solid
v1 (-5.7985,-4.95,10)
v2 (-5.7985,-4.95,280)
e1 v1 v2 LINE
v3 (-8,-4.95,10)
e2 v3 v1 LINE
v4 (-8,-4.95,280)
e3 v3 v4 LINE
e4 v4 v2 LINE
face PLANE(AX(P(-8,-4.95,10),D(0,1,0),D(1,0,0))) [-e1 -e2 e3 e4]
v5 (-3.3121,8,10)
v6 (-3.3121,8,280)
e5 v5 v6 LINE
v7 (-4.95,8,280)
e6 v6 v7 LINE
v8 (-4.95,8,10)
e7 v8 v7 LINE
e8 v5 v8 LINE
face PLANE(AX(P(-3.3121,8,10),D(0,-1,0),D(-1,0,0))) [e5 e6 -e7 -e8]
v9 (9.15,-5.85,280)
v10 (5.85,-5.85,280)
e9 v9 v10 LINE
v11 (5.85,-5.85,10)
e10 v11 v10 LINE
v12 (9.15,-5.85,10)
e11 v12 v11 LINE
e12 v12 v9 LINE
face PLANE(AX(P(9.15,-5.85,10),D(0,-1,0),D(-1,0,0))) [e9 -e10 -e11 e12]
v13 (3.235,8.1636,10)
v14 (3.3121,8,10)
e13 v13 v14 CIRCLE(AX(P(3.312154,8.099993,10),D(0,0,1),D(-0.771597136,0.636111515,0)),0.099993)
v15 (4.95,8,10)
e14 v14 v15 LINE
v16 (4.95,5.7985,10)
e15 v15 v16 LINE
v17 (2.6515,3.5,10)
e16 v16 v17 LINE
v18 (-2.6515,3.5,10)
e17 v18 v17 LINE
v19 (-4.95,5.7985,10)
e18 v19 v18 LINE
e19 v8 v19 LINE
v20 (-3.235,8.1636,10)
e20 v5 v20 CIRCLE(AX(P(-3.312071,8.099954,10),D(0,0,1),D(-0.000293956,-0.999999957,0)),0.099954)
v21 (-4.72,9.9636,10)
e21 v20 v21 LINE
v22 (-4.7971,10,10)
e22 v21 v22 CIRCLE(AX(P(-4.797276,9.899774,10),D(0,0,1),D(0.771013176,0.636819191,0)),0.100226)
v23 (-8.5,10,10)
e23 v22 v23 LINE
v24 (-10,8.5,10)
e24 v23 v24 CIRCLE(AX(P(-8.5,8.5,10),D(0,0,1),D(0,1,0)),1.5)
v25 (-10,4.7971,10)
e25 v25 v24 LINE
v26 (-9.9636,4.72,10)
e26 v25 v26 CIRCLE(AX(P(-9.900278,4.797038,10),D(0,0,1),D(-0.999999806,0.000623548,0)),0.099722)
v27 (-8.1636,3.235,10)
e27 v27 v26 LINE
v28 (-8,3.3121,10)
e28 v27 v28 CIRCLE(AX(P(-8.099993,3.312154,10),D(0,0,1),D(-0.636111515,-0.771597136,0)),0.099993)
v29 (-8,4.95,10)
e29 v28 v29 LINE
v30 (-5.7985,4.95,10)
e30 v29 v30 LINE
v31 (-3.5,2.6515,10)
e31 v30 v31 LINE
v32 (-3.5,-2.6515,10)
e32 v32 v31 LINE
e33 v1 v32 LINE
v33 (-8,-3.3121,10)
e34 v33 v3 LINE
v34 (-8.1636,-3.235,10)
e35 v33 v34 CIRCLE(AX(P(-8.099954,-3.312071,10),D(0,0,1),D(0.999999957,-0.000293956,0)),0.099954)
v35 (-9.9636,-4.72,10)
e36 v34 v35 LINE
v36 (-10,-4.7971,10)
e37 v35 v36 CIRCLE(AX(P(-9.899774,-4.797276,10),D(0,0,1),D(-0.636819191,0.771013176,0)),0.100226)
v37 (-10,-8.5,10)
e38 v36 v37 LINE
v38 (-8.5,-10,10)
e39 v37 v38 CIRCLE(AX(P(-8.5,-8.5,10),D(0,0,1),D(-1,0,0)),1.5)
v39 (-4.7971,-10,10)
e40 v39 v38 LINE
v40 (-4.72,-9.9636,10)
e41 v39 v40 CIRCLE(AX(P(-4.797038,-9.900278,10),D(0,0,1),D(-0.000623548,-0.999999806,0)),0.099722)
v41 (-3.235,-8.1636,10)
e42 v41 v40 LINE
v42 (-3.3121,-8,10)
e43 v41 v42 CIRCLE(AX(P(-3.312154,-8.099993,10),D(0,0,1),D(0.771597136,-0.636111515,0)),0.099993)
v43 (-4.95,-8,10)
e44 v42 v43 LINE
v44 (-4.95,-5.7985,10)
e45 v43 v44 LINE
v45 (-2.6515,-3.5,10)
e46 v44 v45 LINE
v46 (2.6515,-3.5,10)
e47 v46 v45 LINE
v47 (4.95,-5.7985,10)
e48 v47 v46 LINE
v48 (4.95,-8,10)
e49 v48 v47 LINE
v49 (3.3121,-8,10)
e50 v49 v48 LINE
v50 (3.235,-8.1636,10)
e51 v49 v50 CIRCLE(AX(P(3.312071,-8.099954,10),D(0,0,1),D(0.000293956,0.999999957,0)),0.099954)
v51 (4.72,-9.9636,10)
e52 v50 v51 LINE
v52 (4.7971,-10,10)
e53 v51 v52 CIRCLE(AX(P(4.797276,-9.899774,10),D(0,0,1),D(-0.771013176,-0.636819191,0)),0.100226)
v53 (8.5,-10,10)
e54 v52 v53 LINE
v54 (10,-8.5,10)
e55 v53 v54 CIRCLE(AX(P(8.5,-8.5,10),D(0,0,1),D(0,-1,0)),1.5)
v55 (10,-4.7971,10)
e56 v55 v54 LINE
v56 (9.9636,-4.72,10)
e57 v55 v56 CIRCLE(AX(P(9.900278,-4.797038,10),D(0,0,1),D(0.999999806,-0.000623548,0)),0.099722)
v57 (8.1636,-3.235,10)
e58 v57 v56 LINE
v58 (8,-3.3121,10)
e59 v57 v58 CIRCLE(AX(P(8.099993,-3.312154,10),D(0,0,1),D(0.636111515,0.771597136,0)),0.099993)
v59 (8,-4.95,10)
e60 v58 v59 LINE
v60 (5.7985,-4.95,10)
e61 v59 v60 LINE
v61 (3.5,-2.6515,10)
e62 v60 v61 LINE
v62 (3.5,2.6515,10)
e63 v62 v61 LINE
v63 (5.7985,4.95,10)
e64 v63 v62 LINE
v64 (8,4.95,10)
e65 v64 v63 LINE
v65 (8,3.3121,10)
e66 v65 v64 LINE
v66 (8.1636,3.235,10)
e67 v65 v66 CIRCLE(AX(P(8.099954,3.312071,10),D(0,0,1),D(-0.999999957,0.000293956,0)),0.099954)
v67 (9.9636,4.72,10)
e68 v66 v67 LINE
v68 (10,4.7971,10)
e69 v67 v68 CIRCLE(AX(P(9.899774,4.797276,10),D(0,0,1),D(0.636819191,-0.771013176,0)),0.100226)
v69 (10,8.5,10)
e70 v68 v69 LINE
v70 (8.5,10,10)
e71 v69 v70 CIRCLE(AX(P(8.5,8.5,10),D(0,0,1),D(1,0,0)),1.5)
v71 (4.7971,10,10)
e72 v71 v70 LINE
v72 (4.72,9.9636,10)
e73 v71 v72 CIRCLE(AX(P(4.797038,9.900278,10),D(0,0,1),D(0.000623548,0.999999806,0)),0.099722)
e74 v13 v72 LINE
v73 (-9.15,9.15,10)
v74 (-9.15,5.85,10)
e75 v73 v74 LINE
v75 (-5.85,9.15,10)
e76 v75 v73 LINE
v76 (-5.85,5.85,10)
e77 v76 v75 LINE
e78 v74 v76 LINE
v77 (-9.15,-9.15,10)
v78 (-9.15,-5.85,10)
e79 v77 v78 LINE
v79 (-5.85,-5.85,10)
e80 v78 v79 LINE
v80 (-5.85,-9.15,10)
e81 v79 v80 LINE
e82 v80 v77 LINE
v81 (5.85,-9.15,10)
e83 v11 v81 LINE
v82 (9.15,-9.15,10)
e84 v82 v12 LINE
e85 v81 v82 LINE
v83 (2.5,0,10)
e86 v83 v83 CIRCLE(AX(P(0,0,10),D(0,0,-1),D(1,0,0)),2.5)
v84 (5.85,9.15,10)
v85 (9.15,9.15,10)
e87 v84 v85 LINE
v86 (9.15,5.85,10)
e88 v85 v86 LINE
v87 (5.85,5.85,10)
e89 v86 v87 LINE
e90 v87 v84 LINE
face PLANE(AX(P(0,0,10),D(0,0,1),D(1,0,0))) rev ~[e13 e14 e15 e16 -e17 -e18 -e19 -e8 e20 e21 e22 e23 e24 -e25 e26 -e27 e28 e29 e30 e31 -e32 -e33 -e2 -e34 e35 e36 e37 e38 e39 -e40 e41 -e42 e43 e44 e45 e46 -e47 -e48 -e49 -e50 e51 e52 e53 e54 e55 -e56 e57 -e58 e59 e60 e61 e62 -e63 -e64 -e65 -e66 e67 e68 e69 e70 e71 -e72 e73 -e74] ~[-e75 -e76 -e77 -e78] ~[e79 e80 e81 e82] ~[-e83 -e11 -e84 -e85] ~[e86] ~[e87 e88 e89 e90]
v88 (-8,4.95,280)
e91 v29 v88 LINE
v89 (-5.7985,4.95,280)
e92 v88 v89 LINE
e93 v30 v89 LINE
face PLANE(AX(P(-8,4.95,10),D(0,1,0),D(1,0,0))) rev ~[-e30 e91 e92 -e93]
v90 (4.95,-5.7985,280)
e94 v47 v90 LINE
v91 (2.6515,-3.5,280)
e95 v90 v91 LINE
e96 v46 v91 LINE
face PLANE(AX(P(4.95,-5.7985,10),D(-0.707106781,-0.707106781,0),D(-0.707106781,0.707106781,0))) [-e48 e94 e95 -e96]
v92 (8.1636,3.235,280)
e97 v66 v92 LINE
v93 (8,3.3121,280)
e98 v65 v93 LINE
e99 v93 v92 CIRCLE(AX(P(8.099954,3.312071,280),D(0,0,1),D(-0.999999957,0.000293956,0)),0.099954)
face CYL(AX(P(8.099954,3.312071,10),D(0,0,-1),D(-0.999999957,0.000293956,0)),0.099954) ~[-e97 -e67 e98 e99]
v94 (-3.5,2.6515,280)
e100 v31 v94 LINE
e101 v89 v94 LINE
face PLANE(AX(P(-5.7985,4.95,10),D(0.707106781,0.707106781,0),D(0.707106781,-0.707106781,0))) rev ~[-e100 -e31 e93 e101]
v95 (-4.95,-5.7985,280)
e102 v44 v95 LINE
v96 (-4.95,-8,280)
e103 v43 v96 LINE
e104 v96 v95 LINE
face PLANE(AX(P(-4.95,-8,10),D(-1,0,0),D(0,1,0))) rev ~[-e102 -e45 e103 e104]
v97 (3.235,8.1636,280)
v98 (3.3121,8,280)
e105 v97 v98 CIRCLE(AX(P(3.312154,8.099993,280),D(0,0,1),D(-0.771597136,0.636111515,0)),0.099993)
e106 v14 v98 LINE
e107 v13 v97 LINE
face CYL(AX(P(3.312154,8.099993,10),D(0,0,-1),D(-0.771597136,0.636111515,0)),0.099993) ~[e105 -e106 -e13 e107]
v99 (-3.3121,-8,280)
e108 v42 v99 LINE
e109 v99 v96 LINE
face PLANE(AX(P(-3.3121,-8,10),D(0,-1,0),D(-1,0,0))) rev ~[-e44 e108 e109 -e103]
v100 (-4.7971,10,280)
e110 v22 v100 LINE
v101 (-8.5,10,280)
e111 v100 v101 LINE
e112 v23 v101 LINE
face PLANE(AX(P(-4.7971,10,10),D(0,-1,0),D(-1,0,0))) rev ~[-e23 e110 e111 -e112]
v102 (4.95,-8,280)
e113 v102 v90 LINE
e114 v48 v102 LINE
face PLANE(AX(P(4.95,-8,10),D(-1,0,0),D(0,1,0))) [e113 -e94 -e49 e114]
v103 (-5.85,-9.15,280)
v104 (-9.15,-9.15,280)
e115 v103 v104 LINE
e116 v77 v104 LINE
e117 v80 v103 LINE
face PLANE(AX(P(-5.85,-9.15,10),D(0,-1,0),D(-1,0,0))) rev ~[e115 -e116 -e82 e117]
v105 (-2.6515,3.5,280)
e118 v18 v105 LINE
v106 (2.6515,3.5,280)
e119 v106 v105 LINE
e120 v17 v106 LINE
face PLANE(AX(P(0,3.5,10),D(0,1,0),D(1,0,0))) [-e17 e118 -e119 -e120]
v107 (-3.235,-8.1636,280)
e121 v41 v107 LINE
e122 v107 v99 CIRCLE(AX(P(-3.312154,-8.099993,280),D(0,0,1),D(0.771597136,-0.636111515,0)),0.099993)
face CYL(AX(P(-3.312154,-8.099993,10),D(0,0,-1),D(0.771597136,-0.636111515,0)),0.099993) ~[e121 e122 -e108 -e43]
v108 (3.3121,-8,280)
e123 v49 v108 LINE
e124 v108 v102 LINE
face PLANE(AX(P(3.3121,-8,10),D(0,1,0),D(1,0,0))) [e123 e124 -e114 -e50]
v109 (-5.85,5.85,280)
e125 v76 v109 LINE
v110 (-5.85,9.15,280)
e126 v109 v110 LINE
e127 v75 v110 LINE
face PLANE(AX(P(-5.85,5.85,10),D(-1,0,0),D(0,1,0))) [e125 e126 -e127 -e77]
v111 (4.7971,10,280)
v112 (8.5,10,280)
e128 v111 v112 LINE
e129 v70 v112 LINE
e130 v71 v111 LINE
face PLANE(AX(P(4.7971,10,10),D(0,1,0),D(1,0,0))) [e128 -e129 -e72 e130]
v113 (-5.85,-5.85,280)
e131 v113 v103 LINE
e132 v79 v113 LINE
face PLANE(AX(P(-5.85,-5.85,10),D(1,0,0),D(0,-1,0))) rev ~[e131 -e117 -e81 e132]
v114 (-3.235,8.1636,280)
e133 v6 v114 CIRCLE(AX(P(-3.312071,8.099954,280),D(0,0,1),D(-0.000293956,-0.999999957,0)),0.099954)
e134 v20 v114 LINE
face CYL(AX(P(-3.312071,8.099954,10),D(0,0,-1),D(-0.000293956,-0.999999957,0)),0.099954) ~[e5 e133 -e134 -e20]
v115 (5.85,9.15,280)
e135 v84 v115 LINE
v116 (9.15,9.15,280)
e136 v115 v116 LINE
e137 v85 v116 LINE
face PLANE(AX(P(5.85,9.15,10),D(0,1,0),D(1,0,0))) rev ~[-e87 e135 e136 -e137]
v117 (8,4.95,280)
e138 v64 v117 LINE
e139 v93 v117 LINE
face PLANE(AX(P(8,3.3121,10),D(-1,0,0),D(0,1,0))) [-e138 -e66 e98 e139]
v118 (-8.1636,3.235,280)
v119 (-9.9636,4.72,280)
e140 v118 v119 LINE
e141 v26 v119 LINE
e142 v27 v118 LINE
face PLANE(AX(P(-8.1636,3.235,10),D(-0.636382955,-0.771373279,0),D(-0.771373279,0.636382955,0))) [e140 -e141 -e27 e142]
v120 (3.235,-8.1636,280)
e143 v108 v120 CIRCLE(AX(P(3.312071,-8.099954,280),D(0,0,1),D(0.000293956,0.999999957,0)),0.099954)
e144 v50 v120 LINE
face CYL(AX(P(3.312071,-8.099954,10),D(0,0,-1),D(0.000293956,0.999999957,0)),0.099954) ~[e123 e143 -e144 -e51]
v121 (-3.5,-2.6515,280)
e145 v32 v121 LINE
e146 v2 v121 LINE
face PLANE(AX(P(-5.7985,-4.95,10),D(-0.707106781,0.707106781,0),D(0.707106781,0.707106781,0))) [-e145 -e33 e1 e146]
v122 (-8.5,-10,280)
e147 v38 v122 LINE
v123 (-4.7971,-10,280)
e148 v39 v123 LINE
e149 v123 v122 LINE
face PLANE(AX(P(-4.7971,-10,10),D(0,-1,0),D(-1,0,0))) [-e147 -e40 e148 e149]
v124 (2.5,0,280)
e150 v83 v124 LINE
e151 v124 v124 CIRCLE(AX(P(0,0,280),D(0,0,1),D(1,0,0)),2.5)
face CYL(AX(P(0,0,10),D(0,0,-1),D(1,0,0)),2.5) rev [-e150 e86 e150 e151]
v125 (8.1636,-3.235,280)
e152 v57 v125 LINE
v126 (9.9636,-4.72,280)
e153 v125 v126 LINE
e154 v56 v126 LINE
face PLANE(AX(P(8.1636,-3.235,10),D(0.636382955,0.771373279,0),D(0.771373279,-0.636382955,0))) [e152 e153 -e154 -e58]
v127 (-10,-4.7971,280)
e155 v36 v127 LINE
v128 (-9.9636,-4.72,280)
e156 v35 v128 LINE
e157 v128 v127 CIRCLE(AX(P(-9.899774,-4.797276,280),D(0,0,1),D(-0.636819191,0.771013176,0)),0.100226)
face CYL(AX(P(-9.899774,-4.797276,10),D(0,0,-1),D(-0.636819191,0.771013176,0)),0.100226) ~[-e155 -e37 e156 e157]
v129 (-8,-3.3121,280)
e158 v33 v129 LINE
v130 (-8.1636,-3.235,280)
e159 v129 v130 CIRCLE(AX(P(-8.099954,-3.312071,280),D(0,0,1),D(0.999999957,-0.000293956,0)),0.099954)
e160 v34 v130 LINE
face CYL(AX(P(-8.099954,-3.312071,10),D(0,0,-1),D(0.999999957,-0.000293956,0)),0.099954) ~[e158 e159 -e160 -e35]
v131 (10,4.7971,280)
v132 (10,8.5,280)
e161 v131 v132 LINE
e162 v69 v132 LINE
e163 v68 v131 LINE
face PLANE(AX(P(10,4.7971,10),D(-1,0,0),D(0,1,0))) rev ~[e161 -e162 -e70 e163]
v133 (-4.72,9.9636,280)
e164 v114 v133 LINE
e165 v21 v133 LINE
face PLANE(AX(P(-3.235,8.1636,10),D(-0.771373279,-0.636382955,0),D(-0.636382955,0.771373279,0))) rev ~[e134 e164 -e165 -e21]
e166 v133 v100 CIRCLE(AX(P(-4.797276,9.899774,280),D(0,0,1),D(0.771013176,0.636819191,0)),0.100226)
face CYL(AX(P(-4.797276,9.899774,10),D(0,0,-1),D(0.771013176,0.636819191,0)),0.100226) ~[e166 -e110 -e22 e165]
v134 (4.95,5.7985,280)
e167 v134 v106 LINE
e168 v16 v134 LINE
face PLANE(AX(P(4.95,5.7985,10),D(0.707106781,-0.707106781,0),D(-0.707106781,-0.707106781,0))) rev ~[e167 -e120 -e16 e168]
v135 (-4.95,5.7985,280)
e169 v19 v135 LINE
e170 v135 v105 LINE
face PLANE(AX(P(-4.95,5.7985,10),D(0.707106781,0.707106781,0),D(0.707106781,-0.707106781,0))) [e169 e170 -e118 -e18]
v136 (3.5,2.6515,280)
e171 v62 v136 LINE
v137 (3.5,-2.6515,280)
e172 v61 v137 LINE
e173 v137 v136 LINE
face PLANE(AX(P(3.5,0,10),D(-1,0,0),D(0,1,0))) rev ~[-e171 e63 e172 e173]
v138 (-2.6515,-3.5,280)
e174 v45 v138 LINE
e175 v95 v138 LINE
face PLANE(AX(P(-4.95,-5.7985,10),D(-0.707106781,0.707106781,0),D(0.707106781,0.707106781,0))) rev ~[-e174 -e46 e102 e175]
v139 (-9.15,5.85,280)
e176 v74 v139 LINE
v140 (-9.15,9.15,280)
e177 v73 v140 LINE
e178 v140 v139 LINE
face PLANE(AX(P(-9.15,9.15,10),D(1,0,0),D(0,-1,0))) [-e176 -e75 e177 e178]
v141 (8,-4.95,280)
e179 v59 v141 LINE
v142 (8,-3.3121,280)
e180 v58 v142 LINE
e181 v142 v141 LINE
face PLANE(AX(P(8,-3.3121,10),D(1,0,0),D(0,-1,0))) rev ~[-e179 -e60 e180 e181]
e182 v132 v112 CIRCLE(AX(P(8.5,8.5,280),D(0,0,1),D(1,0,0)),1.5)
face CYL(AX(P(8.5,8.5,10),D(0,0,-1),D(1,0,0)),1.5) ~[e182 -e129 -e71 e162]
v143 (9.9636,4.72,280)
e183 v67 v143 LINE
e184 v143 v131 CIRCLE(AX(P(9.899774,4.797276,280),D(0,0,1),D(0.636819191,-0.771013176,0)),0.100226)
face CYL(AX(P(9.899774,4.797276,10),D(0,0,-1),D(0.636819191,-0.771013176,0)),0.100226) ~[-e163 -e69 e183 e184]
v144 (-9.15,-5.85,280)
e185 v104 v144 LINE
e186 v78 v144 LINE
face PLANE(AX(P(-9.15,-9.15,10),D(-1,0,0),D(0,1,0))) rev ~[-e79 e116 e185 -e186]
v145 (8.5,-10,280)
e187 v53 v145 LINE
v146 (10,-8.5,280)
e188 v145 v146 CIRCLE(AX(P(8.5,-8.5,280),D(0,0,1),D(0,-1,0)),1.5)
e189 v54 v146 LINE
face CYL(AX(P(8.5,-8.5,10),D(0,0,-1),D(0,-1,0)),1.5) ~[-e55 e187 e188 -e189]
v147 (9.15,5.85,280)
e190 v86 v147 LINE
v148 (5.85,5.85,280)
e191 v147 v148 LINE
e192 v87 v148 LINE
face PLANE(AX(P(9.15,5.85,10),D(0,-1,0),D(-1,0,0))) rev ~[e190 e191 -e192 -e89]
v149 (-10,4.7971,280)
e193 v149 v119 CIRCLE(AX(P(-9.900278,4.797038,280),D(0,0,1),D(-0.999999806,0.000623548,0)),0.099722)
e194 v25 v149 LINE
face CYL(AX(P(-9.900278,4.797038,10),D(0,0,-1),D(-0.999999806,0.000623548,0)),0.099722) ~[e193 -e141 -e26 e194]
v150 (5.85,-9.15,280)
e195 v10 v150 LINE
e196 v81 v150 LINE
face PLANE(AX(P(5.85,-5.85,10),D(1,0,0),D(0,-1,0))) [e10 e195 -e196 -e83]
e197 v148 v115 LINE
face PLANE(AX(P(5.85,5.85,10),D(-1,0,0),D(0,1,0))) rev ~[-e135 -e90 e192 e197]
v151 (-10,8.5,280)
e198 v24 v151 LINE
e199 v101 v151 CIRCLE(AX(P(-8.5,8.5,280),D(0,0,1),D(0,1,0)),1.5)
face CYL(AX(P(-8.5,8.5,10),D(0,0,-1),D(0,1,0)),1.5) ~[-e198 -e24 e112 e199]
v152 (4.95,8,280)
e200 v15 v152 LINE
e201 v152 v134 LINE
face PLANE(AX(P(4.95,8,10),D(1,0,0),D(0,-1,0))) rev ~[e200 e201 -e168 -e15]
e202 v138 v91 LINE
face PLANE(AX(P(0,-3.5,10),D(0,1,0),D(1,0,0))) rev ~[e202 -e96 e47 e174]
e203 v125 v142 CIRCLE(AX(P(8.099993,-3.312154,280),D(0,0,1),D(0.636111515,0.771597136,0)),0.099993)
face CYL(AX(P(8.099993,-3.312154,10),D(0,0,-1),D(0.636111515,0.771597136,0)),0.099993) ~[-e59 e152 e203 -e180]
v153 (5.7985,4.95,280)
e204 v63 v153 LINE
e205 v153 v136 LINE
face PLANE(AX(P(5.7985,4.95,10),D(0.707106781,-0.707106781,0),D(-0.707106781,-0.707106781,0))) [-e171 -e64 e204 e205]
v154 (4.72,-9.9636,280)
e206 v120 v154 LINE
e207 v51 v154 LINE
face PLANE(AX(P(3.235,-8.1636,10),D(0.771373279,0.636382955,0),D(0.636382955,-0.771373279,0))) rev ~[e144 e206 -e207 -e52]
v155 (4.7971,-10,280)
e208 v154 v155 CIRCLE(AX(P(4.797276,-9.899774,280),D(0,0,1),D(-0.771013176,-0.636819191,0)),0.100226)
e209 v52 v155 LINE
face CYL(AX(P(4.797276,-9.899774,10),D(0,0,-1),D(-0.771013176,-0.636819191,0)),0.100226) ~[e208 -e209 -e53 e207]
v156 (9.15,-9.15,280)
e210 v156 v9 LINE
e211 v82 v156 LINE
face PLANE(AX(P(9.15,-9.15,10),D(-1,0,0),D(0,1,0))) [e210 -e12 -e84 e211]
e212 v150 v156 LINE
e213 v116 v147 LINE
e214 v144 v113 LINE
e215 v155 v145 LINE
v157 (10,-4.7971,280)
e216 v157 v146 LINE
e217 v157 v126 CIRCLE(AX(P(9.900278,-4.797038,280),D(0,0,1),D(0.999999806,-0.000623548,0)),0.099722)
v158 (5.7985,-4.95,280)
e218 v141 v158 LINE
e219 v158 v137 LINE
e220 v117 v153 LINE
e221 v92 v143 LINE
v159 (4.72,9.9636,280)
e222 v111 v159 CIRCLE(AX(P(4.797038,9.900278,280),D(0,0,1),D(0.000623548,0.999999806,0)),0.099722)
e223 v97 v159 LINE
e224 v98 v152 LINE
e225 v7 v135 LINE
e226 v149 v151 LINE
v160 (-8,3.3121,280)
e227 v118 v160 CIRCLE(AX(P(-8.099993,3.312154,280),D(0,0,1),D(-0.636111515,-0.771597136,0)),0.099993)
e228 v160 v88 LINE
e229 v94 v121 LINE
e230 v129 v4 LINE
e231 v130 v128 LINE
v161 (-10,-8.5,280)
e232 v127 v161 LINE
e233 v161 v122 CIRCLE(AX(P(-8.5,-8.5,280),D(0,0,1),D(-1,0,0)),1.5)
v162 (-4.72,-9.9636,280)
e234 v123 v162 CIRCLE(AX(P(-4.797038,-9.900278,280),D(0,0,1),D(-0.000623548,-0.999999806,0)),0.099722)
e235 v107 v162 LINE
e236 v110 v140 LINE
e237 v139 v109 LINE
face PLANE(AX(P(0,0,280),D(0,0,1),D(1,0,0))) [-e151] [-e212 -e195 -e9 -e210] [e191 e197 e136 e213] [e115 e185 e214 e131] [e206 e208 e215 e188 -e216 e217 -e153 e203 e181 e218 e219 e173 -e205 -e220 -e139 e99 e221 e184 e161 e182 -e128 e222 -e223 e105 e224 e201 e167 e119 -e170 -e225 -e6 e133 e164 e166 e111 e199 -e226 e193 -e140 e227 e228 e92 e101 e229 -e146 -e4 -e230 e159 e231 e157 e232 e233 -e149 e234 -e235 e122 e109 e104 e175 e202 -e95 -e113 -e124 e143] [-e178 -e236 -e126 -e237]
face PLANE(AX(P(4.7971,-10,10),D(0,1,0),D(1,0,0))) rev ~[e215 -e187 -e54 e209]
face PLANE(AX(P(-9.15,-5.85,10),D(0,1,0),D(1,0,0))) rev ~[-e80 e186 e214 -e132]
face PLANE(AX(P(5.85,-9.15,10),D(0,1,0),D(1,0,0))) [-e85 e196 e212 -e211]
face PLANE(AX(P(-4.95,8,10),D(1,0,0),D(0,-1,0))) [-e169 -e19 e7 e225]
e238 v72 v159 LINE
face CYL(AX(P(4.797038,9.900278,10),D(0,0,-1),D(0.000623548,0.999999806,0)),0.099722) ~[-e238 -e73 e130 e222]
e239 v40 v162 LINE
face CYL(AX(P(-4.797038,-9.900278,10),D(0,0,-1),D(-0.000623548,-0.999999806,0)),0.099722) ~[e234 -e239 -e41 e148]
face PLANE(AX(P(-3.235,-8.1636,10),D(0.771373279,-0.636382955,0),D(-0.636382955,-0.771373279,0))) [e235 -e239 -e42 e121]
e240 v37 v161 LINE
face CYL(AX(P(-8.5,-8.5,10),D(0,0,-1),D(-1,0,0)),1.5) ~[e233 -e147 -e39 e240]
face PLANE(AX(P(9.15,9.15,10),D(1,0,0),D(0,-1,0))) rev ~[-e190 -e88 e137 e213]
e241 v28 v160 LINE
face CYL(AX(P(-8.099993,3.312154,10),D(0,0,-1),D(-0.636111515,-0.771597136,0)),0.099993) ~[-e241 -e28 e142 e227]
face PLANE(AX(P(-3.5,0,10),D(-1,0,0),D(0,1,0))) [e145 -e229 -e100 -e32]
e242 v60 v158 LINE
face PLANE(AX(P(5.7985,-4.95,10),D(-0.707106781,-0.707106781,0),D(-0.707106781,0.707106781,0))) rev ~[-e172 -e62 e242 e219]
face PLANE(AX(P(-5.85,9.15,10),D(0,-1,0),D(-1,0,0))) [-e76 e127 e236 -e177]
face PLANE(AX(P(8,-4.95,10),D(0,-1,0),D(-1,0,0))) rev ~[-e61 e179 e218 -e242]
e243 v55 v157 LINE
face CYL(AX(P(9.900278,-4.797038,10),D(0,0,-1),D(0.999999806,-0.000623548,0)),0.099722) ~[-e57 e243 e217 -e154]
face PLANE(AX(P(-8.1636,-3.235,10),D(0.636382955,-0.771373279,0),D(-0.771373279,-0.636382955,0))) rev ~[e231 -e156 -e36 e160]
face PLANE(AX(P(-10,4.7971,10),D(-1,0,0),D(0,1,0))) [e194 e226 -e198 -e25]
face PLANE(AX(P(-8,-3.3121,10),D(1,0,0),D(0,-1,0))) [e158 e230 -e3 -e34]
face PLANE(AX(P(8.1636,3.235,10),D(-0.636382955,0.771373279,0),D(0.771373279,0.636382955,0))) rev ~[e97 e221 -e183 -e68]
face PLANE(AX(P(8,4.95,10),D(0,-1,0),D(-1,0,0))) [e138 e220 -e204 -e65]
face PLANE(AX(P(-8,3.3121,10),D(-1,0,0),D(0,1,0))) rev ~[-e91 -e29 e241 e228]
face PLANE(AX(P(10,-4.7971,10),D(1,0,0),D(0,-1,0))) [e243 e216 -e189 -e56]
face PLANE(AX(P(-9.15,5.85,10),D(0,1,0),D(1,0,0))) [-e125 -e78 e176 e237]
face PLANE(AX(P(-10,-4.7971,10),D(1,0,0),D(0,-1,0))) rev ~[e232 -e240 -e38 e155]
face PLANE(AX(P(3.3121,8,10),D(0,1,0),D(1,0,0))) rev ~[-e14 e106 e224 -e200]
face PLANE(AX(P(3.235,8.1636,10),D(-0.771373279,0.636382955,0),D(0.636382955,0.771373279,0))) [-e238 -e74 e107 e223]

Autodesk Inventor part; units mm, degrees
ref_plane "Начальная плоскость" through (0, 0, 10) normal (0, 0, 1) x (1, 0, 0)
ref_plane "Конечная плоскость" through (0, 0, 280) normal (0, 0, 1) x (1, 0, 0)
sketch "Эскиз" plane through (0, 0, 0) normal (0, 0, 1) x (1, 0, 0)
  line L0 (-14.4349, 0) -> (14.4349, 0) projected
  line L1 (0, -14) -> (0, 14) projected
  line L2 (0, 0) -> (7.5, 7.5) construction
  circle A0 centre (7.5, 7.5) radius 1.65 construction
  line L3 (5.85, 9.15) -> (9.15, 9.15)
  line L4 (9.15, 9.15) -> (9.15, 5.85)
  line L5 (9.15, 5.85) -> (5.85, 5.85)
  line L6 (5.85, 5.85) -> (5.85, 9.15)
  line L7 (3.235, 8.1636) -> (4.72, 9.9636)
  line L8 (4.7971, 10) -> (8.5, 10)
  line L9 (3.3121, 8) -> (4.95, 8)
  line L10 (4.95, 8) -> (4.95, 5.7985)
  line L11 (4.95, 5.7985) -> (2.6515, 3.5)
  line L12 (0, 3.5) -> (2.6515, 3.5)
  circle A1 centre (0, 0) radius 2.5
  line L13 (8.1636, 3.235) -> (9.9636, 4.72)
  line L14 (10, 4.7971) -> (10, 8.5)
  line L15 (8, 3.3121) -> (8, 4.95)
  line L16 (8, 4.95) -> (5.7985, 4.95)
  line L17 (5.7985, 4.95) -> (3.5, 2.6515)
  line L18 (3.5, 0) -> (3.5, 2.6515)
  arc A2 (10, 8.5) -> (8.5, 10) centre (8.5, 8.5) ccw
  line L19 (0, 0) -> (-7.5, 7.5) construction
  circle A3 centre (-7.5, 7.5) radius 1.65 construction
  line L20 (-5.85, 9.15) -> (-9.15, 9.15)
  line L21 (-9.15, 9.15) -> (-9.15, 5.85)
  line L22 (-9.15, 5.85) -> (-5.85, 5.85)
  line L23 (-5.85, 5.85) -> (-5.85, 9.15)
  line L24 (-3.235, 8.1636) -> (-4.72, 9.9636)
  line L25 (-4.7971, 10) -> (-8.5, 10)
  line L26 (-3.3121, 8) -> (-4.95, 8)
  line L27 (-4.95, 8) -> (-4.95, 5.7985)
  line L28 (-4.95, 5.7985) -> (-2.6515, 3.5)
  line L29 (0, 3.5) -> (-2.6515, 3.5)
  line L30 (-3.5, 0) -> (-3.5, 2.6515)
  line L31 (-5.7985, 4.95) -> (-3.5, 2.6515)
  line L32 (-8, 4.95) -> (-5.7985, 4.95)
  line L33 (-8, 3.3121) -> (-8, 4.95)
  line L34 (-8.1636, 3.235) -> (-9.9636, 4.72)
  line L35 (-10, 4.7971) -> (-10, 8.5)
  arc A4 (-8.5, 10) -> (-10, 8.5) centre (-8.5, 8.5) ccw
  line L36 (0, 14) -> (0, -14)
  line L37 (0, 0) -> (7.5, -7.5) construction
  circle A5 centre (7.5, -7.5) radius 1.65 construction
  line L38 (5.85, -9.15) -> (9.15, -9.15)
  line L39 (9.15, -9.15) -> (9.15, -5.85)
  line L40 (9.15, -5.85) -> (5.85, -5.85)
  line L41 (5.85, -5.85) -> (5.85, -9.15)
  line L42 (3.235, -8.1636) -> (4.72, -9.9636)
  line L43 (4.7971, -10) -> (8.5, -10)
  line L44 (3.3121, -8) -> (4.95, -8)
  line L45 (4.95, -8) -> (4.95, -5.7985)
  line L46 (4.95, -5.7985) -> (2.6515, -3.5)
  line L47 (0, -3.5) -> (2.6515, -3.5)
  line L48 (3.5, 0) -> (3.5, -2.6515)
  line L49 (5.7985, -4.95) -> (3.5, -2.6515)
  line L50 (8, -4.95) -> (5.7985, -4.95)
  line L51 (8, -3.3121) -> (8, -4.95)
  line L52 (8.1636, -3.235) -> (9.9636, -4.72)
  line L53 (10, -4.7971) -> (10, -8.5)
  arc A6 (8.5, -10) -> (10, -8.5) centre (8.5, -8.5) ccw
  line L54 (0, 0) -> (-7.5, -7.5) construction
  line L55 (-4.95, -8) -> (-4.95, -5.7985)
  line L56 (-3.3121, -8) -> (-4.95, -8)
  line L57 (-5.7985, -4.95) -> (-3.5, -2.6515)
  line L58 (-4.95, -5.7985) -> (-2.6515, -3.5)
  line L59 (-3.5, 0) -> (-3.5, -2.6515)
  line L60 (0, -3.5) -> (-2.6515, -3.5)
  circle A7 centre (-7.5, -7.5) radius 1.65 construction
  line L61 (-5.85, -5.85) -> (-5.85, -9.15)
  line L62 (-5.85, -9.15) -> (-9.15, -9.15)
  line L63 (-9.15, -9.15) -> (-9.15, -5.85)
  line L64 (-9.15, -5.85) -> (-5.85, -5.85)
  line L65 (-3.235, -8.1636) -> (-4.72, -9.9636)
  line L66 (-8, -4.95) -> (-5.7985, -4.95)
  line L67 (-8, -3.3121) -> (-8, -4.95)
  line L68 (-8.1636, -3.235) -> (-9.9636, -4.72)
  line L69 (-4.7971, -10) -> (-8.5, -10)
  line L70 (-10, -4.7971) -> (-10, -8.5)
  arc A8 (-10, -8.5) -> (-8.5, -10) centre (-8.5, -8.5) ccw
  arc A9 (3.235, 8.1636) -> (3.3121, 8) centre (3.3121, 8.1) ccw
  arc A10 (4.7971, 10) -> (4.72, 9.9636) centre (4.7971, 9.9) ccw
  arc A11 (8, 3.3121) -> (8.1636, 3.235) centre (8.1, 3.3121) ccw
  arc A12 (9.9636, 4.72) -> (10, 4.7971) centre (9.9, 4.7971) ccw
  arc A13 (-3.3121, 8) -> (-3.235, 8.1636) centre (-3.3121, 8.1) ccw
  arc A14 (-4.72, 9.9636) -> (-4.7971, 10) centre (-4.7971, 9.9) ccw
  arc A15 (-8.1636, 3.235) -> (-8, 3.3121) centre (-8.1, 3.3121) ccw
  arc A16 (-10, 4.7971) -> (-9.9636, 4.72) centre (-9.9, 4.7971) ccw
  arc A17 (-8, -3.3121) -> (-8.1636, -3.235) centre (-8.1, -3.3121) ccw
  arc A18 (-9.9636, -4.72) -> (-10, -4.7971) centre (-9.9, -4.7971) ccw
  arc A19 (-3.235, -8.1636) -> (-3.3121, -8) centre (-3.3121, -8.1) ccw
  arc A20 (-4.7971, -10) -> (-4.72, -9.9636) centre (-4.7971, -9.9) ccw
  arc A21 (4.72, -9.9636) -> (4.7971, -10) centre (4.7971, -9.9) ccw
  arc A22 (3.3121, -8) -> (3.235, -8.1636) centre (3.3121, -8.1) ccw
  arc A23 (8.1636, -3.235) -> (8, -3.3121) centre (8.1, -3.3121) ccw
  arc A24 (10, -4.7971) -> (9.9636, -4.72) centre (9.9, -4.7971) ccw
  point P0 (3.1, 8)
  point P1 (4.75, 10)
  point P2 (7.5, 9.15)
  point P3 (8, 3.1)
  point P4 (10, 4.75)
  point P5 (7.5, 5.85)
  point P6 (9.15, 7.5)
  point P7 (-3.1, 8)
  point P8 (-4.75, 10)
  point P9 (-7.5, 9.15)
  point P10 (-8, 3.1)
  point P11 (-10, 4.75)
  point P12 (-7.5, 5.85)
  point P13 (-9.15, 7.5)
  point P14 (3.1, -8)
  point P15 (4.75, -10)
  point P16 (7.5, -9.15)
  point P17 (8, -3.1)
  point P18 (10, -4.75)
  point P19 (7.5, -5.85)
  point P20 (9.15, -7.5)
  point P21 (-3.1, -8)
  point P22 (-7.5, -5.85)
  point P23 (-7.5, -9.15)
  point P24 (-9.15, -7.5)
  point P25 (-4.75, -10)
  point P26 (-8, -3.1)
  point P27 (-10, -4.75)
  dimension "d0" = 45
  dimension "d1" = 3.3
  dimension "d2" = 1.5
  dimension "d3" = 1.2
  dimension "d4" = 5
  dimension "d5" = 6.5
  dimension "d6" = 15
  dimension "d7" = 20
  dimension "d8" = 9.9
  dimension "d9" = 9.5
  dimension "d10" = 6.2
  dimension "d11" = 2
  dimension "d18" = 0.1
  dimension "d19" = 0.1
extrude "Тело" add sketch "Эскиз" along normal up to surface (270 mm away) from surface at 10 contours A1 L1 L12 L11 L10 L9 A9 L7 A10 L8 A2 L14 A12 L13 A11 L15 L16 L17 L18 L0 | L0 L48 L49 L50 L51 A23 L52 A24 L53 A6 L43 A21 L42 A22 L44 L45 L46 L47 L1 A1 | A1 L0 L30 L31 L32 L33 A15 L34 A16 L35 A4 L25 A14 L24 A13 L26 L27 L28 L29 L1 | L1 L60 L58 L55 L56 A19 L65 A20 L69 A8 L70 A18 L68 A17 L67 L66 L57 L59 L0 A1
sketch "Эскиз2" plane through (0, 0, 0) normal (0, 0, 1) x (1, 0, 0)
  line L0 (0, 0) -> (10, 0)
ref_plane "РабПлоскость3" through (0, 0, 0) normal (0, -1, 0) x (1, 0, 0)
sketch "Эскиз3" plane through (0, 0, 0) normal (0, -1, 0) x (1, 0, 0)
  line L0 (-2, 10) -> (12, 10)
  line L1 (-2, 280) -> (12, 280)
  dimension "d25" = 270
ref_plane "РабПлоскость4" through (-300, 4.7971, 280) normal (0, 0, 1) x (1, 0, 0)
split "Разделение1" plane through (-300, 4.7971, 280) removes the side toward (0, 0, 1)
ref_plane "РабПлоскость5" through (300, -8.5, 10) normal (0, 0, -1) x (-1, 0, 0)
split "Разделение2" plane through (300, -8.5, 10) removes the side toward (0, 0, -1)
properties part number "короткая палка"
